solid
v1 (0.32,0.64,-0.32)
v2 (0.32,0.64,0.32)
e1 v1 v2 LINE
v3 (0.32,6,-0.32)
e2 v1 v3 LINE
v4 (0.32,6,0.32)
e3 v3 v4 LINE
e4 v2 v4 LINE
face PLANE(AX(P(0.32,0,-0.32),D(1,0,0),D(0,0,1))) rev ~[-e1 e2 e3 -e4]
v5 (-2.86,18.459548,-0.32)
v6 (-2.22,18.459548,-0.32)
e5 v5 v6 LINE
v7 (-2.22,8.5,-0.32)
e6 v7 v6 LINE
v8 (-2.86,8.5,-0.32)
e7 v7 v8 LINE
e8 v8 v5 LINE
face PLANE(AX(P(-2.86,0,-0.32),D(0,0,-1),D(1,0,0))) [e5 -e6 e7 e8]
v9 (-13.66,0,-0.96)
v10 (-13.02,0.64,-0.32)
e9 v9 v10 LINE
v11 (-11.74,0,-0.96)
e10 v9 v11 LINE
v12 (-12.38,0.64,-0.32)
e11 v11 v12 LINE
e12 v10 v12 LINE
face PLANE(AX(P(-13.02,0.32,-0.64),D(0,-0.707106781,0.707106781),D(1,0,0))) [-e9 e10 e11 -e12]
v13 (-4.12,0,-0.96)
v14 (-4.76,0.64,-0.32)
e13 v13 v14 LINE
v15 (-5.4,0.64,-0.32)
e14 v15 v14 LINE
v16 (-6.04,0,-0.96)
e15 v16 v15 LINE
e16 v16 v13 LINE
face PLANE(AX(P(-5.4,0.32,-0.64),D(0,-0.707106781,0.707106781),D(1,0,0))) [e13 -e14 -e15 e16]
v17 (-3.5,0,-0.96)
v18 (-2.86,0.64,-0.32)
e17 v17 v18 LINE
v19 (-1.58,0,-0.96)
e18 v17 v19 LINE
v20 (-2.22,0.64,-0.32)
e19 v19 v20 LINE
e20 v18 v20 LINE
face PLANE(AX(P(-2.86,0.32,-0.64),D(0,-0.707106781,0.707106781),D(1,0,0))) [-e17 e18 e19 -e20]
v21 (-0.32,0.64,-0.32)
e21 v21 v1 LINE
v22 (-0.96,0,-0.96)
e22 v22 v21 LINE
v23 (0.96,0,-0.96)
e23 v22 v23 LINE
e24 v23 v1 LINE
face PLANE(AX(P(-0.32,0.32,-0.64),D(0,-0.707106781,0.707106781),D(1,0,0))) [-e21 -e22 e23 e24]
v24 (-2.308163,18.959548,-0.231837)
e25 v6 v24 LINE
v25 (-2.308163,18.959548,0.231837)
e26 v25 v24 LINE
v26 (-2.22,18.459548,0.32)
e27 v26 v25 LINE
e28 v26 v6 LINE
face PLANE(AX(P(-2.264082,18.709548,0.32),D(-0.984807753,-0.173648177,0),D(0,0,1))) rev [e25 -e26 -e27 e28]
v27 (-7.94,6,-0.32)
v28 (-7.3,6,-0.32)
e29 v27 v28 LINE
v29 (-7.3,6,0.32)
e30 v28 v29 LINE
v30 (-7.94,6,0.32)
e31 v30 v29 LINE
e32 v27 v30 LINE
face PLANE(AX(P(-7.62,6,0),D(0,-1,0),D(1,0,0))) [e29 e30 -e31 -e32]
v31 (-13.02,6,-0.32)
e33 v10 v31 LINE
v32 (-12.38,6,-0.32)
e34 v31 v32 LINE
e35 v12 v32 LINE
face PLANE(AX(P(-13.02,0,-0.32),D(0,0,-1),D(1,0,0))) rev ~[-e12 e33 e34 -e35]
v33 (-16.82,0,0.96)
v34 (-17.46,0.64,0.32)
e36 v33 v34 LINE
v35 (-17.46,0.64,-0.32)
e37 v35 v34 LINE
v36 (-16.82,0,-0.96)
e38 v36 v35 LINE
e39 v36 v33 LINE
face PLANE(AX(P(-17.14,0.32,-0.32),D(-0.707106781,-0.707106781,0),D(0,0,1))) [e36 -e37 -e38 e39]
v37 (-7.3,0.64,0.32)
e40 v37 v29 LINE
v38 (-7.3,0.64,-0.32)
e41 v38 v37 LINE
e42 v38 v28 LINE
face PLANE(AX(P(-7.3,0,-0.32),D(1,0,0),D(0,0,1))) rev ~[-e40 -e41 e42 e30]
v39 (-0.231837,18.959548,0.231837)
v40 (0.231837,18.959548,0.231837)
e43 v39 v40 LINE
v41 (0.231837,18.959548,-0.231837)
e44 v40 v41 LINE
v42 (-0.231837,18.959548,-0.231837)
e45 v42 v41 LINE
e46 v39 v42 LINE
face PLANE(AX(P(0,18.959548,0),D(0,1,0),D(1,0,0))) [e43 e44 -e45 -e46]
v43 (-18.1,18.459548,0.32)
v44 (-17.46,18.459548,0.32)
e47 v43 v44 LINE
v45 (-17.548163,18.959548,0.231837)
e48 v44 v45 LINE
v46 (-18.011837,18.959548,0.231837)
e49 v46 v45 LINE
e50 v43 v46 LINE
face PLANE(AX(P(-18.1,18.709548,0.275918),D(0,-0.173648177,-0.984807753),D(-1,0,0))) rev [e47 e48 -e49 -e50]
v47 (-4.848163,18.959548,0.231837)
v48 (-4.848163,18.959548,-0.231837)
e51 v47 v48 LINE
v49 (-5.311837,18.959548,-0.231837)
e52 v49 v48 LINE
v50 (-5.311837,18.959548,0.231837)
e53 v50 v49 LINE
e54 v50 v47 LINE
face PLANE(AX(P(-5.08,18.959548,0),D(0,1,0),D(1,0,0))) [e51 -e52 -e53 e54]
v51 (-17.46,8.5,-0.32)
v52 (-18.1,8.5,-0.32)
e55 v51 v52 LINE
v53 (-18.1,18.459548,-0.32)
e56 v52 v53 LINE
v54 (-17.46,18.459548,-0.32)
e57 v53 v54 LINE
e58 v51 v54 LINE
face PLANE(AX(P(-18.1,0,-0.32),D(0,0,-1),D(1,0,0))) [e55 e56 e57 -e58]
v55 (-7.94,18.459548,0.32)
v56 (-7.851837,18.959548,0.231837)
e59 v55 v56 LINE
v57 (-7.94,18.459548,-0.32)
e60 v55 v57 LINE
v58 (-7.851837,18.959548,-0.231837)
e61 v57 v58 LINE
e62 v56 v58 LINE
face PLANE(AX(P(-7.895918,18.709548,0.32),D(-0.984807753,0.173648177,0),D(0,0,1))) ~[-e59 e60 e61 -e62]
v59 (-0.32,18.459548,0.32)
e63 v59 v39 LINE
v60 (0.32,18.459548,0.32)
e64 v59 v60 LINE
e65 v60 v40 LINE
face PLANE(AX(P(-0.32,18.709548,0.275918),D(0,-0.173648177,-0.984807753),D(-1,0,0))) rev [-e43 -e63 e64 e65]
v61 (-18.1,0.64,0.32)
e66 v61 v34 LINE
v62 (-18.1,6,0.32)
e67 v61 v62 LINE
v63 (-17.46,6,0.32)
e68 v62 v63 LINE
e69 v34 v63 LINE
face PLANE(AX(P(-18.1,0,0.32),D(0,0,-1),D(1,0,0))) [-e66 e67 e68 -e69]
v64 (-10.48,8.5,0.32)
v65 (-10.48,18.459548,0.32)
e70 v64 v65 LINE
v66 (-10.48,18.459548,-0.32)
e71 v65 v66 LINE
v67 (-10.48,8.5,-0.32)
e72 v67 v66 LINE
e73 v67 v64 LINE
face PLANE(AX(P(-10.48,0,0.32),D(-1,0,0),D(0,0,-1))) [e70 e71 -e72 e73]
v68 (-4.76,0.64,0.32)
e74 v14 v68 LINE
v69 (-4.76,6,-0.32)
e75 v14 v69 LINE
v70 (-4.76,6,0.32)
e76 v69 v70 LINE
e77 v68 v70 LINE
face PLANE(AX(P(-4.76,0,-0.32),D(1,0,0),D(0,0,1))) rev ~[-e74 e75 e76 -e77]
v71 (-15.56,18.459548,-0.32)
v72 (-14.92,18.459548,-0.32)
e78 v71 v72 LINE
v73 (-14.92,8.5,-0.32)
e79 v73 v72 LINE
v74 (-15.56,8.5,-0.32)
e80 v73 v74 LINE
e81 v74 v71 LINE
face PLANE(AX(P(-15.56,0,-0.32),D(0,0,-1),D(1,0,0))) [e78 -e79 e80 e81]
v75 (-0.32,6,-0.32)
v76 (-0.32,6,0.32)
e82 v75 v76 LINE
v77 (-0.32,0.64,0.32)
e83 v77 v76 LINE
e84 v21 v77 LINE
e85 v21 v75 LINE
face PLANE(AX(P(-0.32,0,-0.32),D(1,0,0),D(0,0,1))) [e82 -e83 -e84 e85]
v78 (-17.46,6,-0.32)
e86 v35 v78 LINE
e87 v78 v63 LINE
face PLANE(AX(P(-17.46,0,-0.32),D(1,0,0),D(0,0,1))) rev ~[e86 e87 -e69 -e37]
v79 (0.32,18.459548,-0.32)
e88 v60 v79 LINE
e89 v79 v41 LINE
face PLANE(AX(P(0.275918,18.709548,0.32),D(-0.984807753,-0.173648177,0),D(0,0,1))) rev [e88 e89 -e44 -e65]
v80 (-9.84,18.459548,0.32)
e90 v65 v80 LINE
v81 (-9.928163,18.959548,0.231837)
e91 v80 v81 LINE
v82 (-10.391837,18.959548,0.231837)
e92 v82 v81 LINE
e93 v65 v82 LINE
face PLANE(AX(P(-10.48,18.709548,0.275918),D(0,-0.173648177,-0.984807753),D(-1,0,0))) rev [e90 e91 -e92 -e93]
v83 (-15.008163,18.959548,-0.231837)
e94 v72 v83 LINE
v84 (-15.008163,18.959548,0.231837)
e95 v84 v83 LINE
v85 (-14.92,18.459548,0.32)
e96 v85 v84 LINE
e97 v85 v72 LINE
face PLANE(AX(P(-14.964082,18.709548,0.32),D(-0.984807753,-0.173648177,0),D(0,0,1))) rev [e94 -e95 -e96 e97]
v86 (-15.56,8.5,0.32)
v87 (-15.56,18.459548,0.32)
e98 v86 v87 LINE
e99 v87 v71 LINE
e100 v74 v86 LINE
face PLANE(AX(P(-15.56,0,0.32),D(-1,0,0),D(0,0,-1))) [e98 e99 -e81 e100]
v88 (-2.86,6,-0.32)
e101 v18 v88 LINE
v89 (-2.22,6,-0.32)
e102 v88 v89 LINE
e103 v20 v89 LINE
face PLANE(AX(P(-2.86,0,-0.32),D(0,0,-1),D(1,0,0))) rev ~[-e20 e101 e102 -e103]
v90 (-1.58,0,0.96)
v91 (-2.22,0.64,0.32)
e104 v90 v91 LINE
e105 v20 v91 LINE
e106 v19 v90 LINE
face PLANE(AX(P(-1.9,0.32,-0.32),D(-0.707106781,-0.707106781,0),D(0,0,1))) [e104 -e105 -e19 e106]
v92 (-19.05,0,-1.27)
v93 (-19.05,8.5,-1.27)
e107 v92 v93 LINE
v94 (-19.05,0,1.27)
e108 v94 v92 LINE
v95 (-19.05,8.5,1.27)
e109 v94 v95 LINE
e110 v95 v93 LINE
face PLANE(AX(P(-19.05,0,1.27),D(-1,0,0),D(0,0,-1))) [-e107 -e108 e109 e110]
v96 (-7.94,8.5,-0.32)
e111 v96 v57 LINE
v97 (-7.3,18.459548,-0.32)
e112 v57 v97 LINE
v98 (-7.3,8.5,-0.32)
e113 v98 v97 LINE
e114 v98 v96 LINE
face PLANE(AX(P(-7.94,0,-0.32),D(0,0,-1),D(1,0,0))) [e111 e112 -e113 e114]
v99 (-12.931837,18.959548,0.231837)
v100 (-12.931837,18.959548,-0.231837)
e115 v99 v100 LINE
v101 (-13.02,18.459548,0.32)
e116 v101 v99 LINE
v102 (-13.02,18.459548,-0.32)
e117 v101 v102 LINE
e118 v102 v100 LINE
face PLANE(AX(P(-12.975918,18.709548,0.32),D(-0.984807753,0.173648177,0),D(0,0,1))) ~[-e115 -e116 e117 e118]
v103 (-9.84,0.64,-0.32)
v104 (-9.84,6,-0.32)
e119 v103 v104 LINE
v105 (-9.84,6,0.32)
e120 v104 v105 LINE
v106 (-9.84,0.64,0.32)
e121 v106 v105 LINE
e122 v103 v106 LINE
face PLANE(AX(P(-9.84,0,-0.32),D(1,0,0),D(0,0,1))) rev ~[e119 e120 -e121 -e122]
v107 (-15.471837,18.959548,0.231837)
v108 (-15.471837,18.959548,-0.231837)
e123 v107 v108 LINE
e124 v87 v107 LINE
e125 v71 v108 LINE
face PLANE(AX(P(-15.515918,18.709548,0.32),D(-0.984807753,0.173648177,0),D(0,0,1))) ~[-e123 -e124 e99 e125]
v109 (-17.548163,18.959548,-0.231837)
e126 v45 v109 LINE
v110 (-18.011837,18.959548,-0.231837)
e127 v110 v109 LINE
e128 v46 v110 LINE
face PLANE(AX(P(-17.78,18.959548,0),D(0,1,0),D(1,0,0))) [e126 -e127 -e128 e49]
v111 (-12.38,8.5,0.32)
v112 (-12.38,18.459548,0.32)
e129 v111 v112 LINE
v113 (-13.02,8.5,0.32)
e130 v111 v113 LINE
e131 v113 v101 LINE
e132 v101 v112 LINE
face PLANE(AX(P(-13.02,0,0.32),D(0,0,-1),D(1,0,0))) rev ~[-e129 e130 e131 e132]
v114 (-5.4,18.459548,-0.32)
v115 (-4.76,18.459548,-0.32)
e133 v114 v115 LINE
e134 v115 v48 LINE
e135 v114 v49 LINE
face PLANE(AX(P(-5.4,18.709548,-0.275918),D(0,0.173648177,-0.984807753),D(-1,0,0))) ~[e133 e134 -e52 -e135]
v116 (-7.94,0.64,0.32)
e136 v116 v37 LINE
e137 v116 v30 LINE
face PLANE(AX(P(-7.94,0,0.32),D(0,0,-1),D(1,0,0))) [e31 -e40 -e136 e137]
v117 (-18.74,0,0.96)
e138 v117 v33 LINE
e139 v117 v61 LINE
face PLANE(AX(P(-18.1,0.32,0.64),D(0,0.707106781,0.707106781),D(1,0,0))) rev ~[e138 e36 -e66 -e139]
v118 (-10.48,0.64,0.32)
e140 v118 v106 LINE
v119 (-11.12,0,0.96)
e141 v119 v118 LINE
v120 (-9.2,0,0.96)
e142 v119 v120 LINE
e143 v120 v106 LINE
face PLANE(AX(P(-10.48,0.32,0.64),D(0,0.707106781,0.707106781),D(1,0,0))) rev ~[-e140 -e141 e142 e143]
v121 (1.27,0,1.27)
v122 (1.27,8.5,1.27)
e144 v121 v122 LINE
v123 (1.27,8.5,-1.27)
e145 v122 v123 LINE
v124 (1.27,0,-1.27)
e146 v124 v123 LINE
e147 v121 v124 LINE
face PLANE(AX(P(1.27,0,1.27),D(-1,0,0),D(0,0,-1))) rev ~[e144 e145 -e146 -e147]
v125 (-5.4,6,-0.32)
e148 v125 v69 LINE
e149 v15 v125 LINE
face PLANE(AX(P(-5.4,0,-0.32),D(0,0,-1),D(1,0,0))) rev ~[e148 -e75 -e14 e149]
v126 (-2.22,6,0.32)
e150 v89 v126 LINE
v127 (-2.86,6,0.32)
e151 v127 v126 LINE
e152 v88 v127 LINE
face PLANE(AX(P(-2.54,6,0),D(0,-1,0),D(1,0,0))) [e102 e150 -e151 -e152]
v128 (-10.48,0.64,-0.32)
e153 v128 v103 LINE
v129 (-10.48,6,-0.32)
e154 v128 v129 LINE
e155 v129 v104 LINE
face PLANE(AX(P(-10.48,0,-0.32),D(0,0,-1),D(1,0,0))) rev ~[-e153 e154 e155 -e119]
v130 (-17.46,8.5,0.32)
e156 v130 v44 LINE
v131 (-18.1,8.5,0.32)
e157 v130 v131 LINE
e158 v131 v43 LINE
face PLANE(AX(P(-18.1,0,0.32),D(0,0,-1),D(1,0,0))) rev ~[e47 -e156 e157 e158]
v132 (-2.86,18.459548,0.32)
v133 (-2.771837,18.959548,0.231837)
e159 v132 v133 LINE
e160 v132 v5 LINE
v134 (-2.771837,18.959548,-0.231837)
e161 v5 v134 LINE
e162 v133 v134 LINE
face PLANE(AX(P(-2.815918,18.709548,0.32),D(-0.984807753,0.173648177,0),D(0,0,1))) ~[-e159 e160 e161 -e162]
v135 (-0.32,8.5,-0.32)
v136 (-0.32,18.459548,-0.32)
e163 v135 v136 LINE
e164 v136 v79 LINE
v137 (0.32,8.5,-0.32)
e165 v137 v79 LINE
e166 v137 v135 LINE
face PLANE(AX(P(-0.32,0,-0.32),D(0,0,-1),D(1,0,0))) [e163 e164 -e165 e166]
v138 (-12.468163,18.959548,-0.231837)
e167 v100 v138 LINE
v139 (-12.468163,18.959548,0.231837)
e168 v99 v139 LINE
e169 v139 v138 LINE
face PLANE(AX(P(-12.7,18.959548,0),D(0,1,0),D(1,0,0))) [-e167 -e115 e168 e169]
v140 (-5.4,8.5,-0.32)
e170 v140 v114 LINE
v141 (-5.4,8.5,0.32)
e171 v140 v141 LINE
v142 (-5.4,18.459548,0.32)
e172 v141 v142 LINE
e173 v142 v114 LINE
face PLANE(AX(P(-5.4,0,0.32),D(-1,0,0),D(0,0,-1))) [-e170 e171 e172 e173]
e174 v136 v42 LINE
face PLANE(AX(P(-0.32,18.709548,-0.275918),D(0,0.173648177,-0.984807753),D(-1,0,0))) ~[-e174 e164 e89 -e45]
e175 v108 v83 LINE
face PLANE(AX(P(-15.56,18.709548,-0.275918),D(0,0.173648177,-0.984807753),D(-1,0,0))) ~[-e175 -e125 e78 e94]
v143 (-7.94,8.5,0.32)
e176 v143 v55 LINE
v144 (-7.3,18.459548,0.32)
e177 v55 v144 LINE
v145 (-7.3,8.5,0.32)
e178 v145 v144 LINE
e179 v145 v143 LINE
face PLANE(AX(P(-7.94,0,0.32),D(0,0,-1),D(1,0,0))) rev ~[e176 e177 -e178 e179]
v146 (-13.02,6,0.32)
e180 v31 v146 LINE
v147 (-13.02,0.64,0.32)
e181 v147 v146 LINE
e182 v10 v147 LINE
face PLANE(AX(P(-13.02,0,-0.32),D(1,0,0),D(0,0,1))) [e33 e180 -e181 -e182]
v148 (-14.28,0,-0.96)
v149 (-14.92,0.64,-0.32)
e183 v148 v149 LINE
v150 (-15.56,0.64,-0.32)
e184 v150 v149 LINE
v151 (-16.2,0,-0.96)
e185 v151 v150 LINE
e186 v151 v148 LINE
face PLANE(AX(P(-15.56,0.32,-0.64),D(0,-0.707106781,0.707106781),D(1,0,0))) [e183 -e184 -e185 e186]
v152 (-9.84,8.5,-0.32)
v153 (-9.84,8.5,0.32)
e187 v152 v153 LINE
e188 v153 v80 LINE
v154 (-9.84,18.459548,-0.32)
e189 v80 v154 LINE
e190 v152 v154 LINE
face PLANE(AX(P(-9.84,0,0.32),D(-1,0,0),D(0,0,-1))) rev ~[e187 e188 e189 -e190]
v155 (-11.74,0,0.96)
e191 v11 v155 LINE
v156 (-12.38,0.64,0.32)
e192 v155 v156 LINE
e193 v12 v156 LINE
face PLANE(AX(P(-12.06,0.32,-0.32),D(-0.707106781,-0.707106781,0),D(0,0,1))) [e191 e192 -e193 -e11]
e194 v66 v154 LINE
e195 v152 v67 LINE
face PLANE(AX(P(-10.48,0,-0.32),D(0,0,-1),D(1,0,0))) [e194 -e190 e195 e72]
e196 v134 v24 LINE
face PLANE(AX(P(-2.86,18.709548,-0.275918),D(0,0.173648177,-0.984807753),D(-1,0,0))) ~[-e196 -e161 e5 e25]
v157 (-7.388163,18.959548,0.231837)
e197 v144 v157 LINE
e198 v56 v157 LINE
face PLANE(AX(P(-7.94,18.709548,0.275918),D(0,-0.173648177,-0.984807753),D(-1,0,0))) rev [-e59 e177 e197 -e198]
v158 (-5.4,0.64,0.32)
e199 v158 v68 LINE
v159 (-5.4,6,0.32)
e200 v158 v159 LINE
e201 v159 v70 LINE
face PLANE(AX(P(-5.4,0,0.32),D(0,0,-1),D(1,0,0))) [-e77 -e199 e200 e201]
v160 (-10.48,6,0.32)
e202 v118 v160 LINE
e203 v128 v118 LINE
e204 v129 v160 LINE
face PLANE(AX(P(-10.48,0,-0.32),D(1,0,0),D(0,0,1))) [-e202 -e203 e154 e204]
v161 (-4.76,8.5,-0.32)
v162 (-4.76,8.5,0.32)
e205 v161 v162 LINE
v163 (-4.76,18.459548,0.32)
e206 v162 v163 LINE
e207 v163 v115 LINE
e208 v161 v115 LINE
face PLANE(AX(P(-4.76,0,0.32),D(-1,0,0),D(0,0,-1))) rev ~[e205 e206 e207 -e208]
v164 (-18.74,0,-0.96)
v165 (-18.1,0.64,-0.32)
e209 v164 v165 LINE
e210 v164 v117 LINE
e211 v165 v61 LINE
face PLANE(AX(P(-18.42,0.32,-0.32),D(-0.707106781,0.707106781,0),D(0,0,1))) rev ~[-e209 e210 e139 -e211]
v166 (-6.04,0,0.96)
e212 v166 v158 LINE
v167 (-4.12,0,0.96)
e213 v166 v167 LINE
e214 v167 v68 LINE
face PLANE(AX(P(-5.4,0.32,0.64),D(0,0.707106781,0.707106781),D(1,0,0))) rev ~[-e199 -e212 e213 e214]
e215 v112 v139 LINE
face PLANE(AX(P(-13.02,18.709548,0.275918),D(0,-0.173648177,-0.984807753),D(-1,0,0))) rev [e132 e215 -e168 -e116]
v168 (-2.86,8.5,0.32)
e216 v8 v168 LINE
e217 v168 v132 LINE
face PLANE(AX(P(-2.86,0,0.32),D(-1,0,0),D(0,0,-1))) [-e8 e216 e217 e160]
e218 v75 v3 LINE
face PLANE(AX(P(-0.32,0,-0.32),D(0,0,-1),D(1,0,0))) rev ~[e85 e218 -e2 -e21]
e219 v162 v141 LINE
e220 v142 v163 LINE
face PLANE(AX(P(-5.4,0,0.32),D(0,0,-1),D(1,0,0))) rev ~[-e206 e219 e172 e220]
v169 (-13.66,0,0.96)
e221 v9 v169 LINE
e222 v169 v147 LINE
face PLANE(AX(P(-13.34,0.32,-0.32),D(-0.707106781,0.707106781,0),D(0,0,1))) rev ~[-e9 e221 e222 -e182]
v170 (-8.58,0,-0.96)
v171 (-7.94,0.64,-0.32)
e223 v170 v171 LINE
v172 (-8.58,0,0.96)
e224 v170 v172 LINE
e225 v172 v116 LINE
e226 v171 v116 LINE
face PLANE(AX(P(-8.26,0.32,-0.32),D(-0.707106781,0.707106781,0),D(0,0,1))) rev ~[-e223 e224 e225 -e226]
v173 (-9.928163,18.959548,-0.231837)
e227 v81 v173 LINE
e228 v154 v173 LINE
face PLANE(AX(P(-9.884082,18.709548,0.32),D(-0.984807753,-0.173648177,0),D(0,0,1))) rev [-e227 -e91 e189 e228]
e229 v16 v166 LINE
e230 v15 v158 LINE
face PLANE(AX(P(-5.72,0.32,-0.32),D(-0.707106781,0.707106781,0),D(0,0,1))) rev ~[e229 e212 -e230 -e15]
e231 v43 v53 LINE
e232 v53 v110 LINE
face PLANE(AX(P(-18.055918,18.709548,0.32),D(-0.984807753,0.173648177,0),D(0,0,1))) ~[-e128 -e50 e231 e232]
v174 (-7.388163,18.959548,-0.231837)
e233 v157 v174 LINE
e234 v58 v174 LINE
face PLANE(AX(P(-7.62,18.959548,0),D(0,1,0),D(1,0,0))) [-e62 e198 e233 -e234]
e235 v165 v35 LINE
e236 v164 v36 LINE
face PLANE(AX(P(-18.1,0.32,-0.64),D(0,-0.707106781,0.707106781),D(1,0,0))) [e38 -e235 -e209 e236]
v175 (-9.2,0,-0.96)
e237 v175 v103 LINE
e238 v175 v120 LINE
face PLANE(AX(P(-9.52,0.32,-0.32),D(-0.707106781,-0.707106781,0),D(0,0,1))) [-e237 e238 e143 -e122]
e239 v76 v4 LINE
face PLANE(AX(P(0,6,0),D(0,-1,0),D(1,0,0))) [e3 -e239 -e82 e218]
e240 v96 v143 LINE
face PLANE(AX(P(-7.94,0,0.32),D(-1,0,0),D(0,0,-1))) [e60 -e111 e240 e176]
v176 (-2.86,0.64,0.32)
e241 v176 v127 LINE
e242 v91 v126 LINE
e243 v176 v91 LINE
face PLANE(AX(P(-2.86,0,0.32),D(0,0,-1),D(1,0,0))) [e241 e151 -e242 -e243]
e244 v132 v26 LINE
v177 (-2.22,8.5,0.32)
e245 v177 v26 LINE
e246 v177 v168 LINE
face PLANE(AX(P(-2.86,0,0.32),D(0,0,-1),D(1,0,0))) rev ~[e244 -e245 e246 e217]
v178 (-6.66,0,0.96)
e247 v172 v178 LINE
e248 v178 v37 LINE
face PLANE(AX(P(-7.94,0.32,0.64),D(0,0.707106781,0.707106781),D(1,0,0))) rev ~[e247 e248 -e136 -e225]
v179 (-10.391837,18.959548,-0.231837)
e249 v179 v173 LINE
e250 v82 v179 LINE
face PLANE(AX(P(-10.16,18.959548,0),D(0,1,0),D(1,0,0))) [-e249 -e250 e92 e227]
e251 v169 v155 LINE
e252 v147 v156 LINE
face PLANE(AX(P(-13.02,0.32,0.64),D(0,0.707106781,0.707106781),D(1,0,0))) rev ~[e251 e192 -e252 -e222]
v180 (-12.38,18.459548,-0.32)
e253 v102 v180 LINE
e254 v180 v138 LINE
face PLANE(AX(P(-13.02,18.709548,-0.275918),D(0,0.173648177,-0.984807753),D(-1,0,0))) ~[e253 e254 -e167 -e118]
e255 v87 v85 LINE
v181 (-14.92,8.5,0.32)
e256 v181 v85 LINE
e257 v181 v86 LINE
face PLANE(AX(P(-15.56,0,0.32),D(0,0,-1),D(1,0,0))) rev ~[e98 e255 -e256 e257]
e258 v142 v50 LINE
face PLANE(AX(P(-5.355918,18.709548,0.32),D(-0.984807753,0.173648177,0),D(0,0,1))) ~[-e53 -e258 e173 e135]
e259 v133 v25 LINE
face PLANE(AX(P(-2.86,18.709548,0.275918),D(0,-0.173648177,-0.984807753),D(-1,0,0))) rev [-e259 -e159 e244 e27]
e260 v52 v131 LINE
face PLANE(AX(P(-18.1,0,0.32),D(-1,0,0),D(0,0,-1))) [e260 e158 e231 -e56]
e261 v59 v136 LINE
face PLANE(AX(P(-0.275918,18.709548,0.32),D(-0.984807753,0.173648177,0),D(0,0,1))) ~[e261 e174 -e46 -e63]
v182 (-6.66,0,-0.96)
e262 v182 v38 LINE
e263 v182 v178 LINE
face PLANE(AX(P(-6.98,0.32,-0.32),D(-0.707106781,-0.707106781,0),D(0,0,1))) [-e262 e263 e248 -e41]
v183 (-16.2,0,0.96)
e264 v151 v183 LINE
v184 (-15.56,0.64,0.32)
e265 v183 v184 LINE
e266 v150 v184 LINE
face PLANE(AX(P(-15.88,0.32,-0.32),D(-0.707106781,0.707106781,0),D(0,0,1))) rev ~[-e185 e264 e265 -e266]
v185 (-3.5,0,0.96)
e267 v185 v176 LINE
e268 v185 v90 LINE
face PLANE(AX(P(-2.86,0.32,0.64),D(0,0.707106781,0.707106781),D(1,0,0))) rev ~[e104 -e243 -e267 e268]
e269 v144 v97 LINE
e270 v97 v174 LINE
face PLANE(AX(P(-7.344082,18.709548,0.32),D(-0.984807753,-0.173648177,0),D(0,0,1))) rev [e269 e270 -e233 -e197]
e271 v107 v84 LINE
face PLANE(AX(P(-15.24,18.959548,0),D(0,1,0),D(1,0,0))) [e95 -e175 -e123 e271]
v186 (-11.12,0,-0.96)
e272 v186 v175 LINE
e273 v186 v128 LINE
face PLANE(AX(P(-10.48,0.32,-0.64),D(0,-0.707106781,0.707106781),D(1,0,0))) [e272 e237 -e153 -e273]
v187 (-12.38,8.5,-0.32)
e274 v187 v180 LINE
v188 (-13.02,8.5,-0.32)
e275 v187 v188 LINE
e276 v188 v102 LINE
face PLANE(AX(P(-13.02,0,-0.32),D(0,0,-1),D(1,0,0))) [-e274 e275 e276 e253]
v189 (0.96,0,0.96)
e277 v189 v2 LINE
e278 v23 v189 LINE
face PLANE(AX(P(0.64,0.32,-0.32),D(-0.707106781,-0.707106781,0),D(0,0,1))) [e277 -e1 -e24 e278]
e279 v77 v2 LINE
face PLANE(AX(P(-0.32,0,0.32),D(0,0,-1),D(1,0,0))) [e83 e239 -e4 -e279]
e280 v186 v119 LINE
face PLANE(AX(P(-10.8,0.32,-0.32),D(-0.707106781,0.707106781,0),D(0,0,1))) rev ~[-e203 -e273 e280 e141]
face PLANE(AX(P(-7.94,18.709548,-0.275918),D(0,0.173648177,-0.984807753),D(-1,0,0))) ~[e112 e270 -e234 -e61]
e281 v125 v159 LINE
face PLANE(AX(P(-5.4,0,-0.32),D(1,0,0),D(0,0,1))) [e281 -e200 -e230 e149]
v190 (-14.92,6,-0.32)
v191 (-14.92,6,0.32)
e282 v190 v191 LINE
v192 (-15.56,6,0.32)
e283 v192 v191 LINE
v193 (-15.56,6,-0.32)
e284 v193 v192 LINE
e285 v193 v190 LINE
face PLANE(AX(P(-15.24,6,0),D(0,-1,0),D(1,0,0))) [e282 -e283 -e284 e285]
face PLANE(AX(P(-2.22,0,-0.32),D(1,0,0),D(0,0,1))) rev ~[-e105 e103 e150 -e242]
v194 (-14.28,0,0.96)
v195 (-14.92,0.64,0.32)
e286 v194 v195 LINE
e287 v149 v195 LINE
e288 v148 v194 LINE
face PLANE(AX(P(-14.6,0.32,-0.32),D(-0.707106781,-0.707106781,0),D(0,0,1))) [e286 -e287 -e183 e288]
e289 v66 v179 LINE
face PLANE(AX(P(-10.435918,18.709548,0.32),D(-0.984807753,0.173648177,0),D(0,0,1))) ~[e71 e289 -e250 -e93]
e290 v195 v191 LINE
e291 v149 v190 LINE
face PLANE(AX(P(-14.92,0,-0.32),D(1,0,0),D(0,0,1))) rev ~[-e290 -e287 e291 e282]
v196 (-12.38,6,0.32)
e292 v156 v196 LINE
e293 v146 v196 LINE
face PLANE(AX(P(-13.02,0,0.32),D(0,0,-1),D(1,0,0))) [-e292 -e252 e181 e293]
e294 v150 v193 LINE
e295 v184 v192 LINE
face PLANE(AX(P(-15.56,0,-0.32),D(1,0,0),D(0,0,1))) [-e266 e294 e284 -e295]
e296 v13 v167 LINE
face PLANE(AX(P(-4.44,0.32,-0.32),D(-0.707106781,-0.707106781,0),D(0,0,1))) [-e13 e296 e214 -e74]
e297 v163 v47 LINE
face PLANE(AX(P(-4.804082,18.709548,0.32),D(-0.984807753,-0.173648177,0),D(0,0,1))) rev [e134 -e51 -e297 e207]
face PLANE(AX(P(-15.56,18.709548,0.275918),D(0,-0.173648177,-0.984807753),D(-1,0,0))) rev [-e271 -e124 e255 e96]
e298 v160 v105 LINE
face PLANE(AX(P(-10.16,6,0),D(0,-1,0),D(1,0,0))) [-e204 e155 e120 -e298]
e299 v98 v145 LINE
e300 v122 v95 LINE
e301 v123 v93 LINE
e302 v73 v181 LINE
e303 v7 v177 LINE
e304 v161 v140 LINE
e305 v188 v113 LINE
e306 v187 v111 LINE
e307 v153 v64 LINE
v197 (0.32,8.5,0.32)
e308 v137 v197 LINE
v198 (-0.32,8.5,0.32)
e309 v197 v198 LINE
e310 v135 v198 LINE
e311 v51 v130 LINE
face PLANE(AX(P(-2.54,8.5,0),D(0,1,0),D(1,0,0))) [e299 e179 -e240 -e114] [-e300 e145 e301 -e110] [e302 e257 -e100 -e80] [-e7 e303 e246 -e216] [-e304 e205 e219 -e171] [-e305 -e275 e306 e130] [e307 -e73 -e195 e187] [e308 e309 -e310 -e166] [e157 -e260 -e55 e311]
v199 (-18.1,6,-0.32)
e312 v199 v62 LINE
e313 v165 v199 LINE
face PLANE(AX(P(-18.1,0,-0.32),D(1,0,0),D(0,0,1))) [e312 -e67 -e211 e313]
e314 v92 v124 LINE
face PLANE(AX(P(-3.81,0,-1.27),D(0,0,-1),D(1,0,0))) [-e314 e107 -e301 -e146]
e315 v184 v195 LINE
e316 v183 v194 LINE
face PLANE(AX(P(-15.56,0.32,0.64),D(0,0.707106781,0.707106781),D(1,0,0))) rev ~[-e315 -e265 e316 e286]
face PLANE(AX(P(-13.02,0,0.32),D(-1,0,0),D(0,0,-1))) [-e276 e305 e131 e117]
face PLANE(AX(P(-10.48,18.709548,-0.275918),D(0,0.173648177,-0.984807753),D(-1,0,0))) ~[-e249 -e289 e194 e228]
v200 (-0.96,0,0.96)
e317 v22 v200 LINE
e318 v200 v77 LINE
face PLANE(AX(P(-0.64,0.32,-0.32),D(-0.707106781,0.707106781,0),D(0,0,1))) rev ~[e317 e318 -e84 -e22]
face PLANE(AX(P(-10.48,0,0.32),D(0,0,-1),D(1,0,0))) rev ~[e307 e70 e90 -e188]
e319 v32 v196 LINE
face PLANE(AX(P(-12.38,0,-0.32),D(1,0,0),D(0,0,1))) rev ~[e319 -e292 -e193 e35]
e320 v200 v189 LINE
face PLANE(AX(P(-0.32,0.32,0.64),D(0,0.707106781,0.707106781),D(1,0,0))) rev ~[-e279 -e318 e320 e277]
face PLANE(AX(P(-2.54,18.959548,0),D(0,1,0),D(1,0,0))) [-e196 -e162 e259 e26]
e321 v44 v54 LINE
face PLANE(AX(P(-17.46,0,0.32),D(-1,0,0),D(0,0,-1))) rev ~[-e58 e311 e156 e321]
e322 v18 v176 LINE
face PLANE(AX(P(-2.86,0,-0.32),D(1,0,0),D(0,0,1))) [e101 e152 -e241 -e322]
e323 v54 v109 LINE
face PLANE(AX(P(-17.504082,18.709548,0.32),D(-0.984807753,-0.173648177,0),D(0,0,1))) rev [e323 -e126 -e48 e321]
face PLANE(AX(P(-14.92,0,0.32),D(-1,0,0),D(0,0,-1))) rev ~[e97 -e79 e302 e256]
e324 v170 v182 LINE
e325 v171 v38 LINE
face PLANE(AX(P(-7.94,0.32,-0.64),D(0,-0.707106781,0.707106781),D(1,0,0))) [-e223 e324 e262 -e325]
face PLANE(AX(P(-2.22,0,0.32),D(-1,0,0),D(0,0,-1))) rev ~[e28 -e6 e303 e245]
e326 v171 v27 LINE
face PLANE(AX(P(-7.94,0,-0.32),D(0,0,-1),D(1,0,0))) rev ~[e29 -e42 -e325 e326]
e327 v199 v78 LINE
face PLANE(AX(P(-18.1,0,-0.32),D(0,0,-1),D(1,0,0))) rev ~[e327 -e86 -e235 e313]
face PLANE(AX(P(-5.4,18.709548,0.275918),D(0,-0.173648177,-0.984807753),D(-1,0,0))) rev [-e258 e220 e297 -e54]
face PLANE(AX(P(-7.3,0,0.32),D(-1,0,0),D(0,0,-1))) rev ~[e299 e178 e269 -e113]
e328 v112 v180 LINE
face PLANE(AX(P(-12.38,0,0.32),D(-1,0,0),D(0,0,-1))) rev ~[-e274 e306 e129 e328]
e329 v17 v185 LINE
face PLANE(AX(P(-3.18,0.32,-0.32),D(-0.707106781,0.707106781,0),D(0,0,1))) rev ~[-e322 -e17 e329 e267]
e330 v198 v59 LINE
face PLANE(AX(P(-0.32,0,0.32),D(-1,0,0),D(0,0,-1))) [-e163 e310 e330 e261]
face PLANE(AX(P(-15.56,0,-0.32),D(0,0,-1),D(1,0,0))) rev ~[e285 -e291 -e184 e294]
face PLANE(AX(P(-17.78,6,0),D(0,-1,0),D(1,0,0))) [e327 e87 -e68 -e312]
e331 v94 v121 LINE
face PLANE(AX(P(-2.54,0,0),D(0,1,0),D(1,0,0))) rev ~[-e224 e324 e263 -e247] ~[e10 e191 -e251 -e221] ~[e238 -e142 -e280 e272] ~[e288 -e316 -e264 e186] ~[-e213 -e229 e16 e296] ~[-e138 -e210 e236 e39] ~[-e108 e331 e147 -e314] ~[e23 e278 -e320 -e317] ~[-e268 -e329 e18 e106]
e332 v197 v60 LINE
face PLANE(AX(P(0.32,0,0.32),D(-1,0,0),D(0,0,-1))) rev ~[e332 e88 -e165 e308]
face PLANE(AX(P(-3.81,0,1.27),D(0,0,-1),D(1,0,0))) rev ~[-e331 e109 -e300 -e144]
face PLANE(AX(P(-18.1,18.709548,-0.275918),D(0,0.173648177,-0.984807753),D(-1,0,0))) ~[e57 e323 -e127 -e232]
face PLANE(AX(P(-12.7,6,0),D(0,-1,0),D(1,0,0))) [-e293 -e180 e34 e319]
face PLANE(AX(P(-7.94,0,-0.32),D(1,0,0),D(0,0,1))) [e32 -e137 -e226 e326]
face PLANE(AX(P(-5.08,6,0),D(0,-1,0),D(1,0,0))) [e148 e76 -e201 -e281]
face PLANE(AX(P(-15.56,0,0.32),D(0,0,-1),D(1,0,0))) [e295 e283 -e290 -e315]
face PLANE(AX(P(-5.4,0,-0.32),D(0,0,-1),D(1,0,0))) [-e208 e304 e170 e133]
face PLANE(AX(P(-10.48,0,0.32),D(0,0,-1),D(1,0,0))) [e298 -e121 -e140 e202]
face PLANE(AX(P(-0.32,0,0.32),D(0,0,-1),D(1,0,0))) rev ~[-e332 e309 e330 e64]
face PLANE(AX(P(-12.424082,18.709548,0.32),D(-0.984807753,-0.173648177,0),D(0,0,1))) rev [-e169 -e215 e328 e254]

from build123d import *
from OCP.BRepFilletAPI import BRepFilletAPI_MakeChamfer

# Parameters (mm, degrees)
SKETCH1_W                   = 2.54
SKETCH1_H                   = 2.54
BOSS_EXTRUDE1_DEPTH         = 8.5
SKETCH2_W                   = 0.64
SKETCH2_H                   = 0.64
BOSS_EXTRUDE2_DEPTH         = 18.9595482
CHAMFER1_SIZE               = 0.5
CHAMFER1_SIZE2              = 0.08816349
SKETCH3_W                   = 0.64
SKETCH3_H                   = 0.64
CUT_EXTRUDE1_DEPTH          = 6
CHAMFER2_SIZE               = 0.64
LPATTERN1_COUNT             = 8
LPATTERN1_PITCH             = 2.54
CHAMFER1_OF_LPATTERN1_SIZE  = 0.5
CHAMFER1_OF_LPATTERN1_SIZE2 = 0.08816349
CHAMFER2_OF_LPATTERN1_SIZE  = 0.64


with BuildPart() as part:
    # Sketch1 → Boss-Extrude1 (new body)
    with BuildSketch(Plane(origin=(0, 0, 0), x_dir=(1, 0, 0), z_dir=(0, 1, 0))):
        Rectangle(SKETCH1_W, SKETCH1_H)
    boss_extrude1 = extrude(amount=BOSS_EXTRUDE1_DEPTH)

    # Sketch2 → Boss-Extrude2 (add)
    with BuildSketch(Plane(origin=(0, 0, 0), x_dir=(1, 0, 0), z_dir=(0, 1, 0))):
        Rectangle(SKETCH2_W, SKETCH2_H)
    boss_extrude2 = extrude(amount=BOSS_EXTRUDE2_DEPTH)

    # Chamfer1: one chamfer whose edges measure the first distance from different faces: ONE call of the kernel's chamfer builder (chamfer() names one face for all edges)
    chamfer1_edges_1 = [part.edges().sort_by_distance(p)[0] for p in [
        (-0.32, 18.9595482, 0),
    ]]
    chamfer1_side_1 = [part.faces().sort_by_distance(p)[0] for p in [
        (-0.32, 13.7297741, 0),
    ]]
    chamfer1_edges_2 = [part.edges().sort_by_distance(p)[0] for p in [
        (0, 18.9595482, 0.32),
    ]]
    chamfer1_side_2 = [part.faces().sort_by_distance(p)[0] for p in [
        (0, 13.7297741, 0.32),
    ]]
    chamfer1_edges_3 = [part.edges().sort_by_distance(p)[0] for p in [
        (0.32, 18.9595482, 0),
    ]]
    chamfer1_side_3 = [part.faces().sort_by_distance(p)[0] for p in [
        (0.32, 13.7297741, 0),
    ]]
    chamfer1_edges_4 = [part.edges().sort_by_distance(p)[0] for p in [
        (0, 18.9595482, -0.32),
    ]]
    chamfer1_side_4 = [part.faces().sort_by_distance(p)[0] for p in [
        (0, 13.7297741, -0.32),
    ]]
    chamfer1 = BRepFilletAPI_MakeChamfer(part.part.solid().wrapped)
    for e in chamfer1_edges_1:
        chamfer1.Add(CHAMFER1_SIZE, CHAMFER1_SIZE2, e.wrapped, chamfer1_side_1[0].wrapped)  # the first distance lies on this face
    for e in chamfer1_edges_2:
        chamfer1.Add(CHAMFER1_SIZE, CHAMFER1_SIZE2, e.wrapped, chamfer1_side_2[0].wrapped)  # the first distance lies on this face
    for e in chamfer1_edges_3:
        chamfer1.Add(CHAMFER1_SIZE, CHAMFER1_SIZE2, e.wrapped, chamfer1_side_3[0].wrapped)  # the first distance lies on this face
    for e in chamfer1_edges_4:
        chamfer1.Add(CHAMFER1_SIZE, CHAMFER1_SIZE2, e.wrapped, chamfer1_side_4[0].wrapped)  # the first distance lies on this face
    add(Compound.cast(chamfer1.Shape()), mode=Mode.REPLACE)

    # Sketch3 → Cut-Extrude1 (cut)
    with BuildSketch(Plane.XZ):
        Rectangle(SKETCH3_W, SKETCH3_H)
    cut_extrude1 = extrude(amount=-CUT_EXTRUDE1_DEPTH, mode=Mode.SUBTRACT)

    # Chamfer2
    chamfer2_edges = [part.edges().sort_by_distance(p)[0] for p in [
        (-0.32, 0, 0),
        (0, 0, -0.32),
        (0.32, 0, 0),
        (0, 0, 0.32),
    ]]
    chamfer(chamfer2_edges, length=CHAMFER2_SIZE)

    # LPattern1: Boss-Extrude1, Boss-Extrude2, Cut-Extrude1 ×8
    with Locations(*[(-i * LPATTERN1_PITCH, 0, 0) for i in range(1, LPATTERN1_COUNT)]):
        add(boss_extrude1)
        add(boss_extrude2)
        add(cut_extrude1, mode=Mode.SUBTRACT)

    # Chamfer1 of LPattern1: one chamfer whose edges measure the first distance from different faces: ONE call of the kernel's chamfer builder (chamfer() names one face for all edges)
    chamfer1_of_lpattern1_edges_1 = [part.edges().sort_by_distance(p)[0] for p in [
        (-2.86, 18.9595482, 0),
    ]]
    chamfer1_of_lpattern1_side_1 = [part.faces().sort_by_distance(p)[0] for p in [
        (-2.86, 13.7297741, 0),
    ]]
    chamfer1_of_lpattern1_edges_2 = [part.edges().sort_by_distance(p)[0] for p in [
        (-2.54, 18.9595482, 0.32),
    ]]
    chamfer1_of_lpattern1_side_2 = [part.faces().sort_by_distance(p)[0] for p in [
        (-2.54, 13.7297741, 0.32),
    ]]
    chamfer1_of_lpattern1_edges_3 = [part.edges().sort_by_distance(p)[0] for p in [
        (-2.22, 18.9595482, 0),
    ]]
    chamfer1_of_lpattern1_side_3 = [part.faces().sort_by_distance(p)[0] for p in [
        (-2.22, 13.7297741, 0),
    ]]
    chamfer1_of_lpattern1_edges_4 = [part.edges().sort_by_distance(p)[0] for p in [
        (-2.54, 18.9595482, -0.32),
    ]]
    chamfer1_of_lpattern1_side_4 = [part.faces().sort_by_distance(p)[0] for p in [
        (-2.54, 13.7297741, -0.32),
    ]]
    chamfer1_of_lpattern1_edges_5 = [part.edges().sort_by_distance(p)[0] for p in [
        (-5.4, 18.9595482, 0),
    ]]
    chamfer1_of_lpattern1_side_5 = [part.faces().sort_by_distance(p)[0] for p in [
        (-5.4, 13.7297741, 0),
    ]]
    chamfer1_of_lpattern1_edges_6 = [part.edges().sort_by_distance(p)[0] for p in [
        (-5.08, 18.9595482, 0.32),
    ]]
    chamfer1_of_lpattern1_side_6 = [part.faces().sort_by_distance(p)[0] for p in [
        (-5.08, 13.7297741, 0.32),
    ]]
    chamfer1_of_lpattern1_edges_7 = [part.edges().sort_by_distance(p)[0] for p in [
        (-4.76, 18.9595482, 0),
    ]]
    chamfer1_of_lpattern1_side_7 = [part.faces().sort_by_distance(p)[0] for p in [
        (-4.76, 13.7297741, 0),
    ]]
    chamfer1_of_lpattern1_edges_8 = [part.edges().sort_by_distance(p)[0] for p in [
        (-5.08, 18.9595482, -0.32),
    ]]
    chamfer1_of_lpattern1_side_8 = [part.faces().sort_by_distance(p)[0] for p in [
        (-5.08, 13.7297741, -0.32),
    ]]
    chamfer1_of_lpattern1_edges_9 = [part.edges().sort_by_distance(p)[0] for p in [
        (-7.94, 18.9595482, 0),
    ]]
    chamfer1_of_lpattern1_side_9 = [part.faces().sort_by_distance(p)[0] for p in [
        (-7.94, 13.7297741, 0),
    ]]
    chamfer1_of_lpattern1_edges_10 = [part.edges().sort_by_distance(p)[0] for p in [
        (-7.62, 18.9595482, 0.32),
    ]]
    chamfer1_of_lpattern1_side_10 = [part.faces().sort_by_distance(p)[0] for p in [
        (-7.62, 13.7297741, 0.32),
    ]]
    chamfer1_of_lpattern1_edges_11 = [part.edges().sort_by_distance(p)[0] for p in [
        (-7.3, 18.9595482, 0),
    ]]
    chamfer1_of_lpattern1_side_11 = [part.faces().sort_by_distance(p)[0] for p in [
        (-7.3, 13.7297741, 0),
    ]]
    chamfer1_of_lpattern1_edges_12 = [part.edges().sort_by_distance(p)[0] for p in [
        (-7.62, 18.9595482, -0.32),
    ]]
    chamfer1_of_lpattern1_side_12 = [part.faces().sort_by_distance(p)[0] for p in [
        (-7.62, 13.7297741, -0.32),
    ]]
    chamfer1_of_lpattern1_edges_13 = [part.edges().sort_by_distance(p)[0] for p in [
        (-10.48, 18.9595482, 0),
    ]]
    chamfer1_of_lpattern1_side_13 = [part.faces().sort_by_distance(p)[0] for p in [
        (-10.48, 13.7297741, 0),
    ]]
    chamfer1_of_lpattern1_edges_14 = [part.edges().sort_by_distance(p)[0] for p in [
        (-10.16, 18.9595482, 0.32),
    ]]
    chamfer1_of_lpattern1_side_14 = [part.faces().sort_by_distance(p)[0] for p in [
        (-10.16, 13.7297741, 0.32),
    ]]
    chamfer1_of_lpattern1_edges_15 = [part.edges().sort_by_distance(p)[0] for p in [
        (-9.84, 18.9595482, 0),
    ]]
    chamfer1_of_lpattern1_side_15 = [part.faces().sort_by_distance(p)[0] for p in [
        (-9.84, 13.7297741, 0),
    ]]
    chamfer1_of_lpattern1_edges_16 = [part.edges().sort_by_distance(p)[0] for p in [
        (-10.16, 18.9595482, -0.32),
    ]]
    chamfer1_of_lpattern1_side_16 = [part.faces().sort_by_distance(p)[0] for p in [
        (-10.16, 13.7297741, -0.32),
    ]]
    chamfer1_of_lpattern1_edges_17 = [part.edges().sort_by_distance(p)[0] for p in [
        (-13.02, 18.9595482, 0),
    ]]
    chamfer1_of_lpattern1_side_17 = [part.faces().sort_by_distance(p)[0] for p in [
        (-13.02, 13.7297741, 0),
    ]]
    chamfer1_of_lpattern1_edges_18 = [part.edges().sort_by_distance(p)[0] for p in [
        (-12.7, 18.9595482, 0.32),
    ]]
    chamfer1_of_lpattern1_side_18 = [part.faces().sort_by_distance(p)[0] for p in [
        (-12.7, 13.7297741, 0.32),
    ]]
    chamfer1_of_lpattern1_edges_19 = [part.edges().sort_by_distance(p)[0] for p in [
        (-12.38, 18.9595482, 0),
    ]]
    chamfer1_of_lpattern1_side_19 = [part.faces().sort_by_distance(p)[0] for p in [
        (-12.38, 13.7297741, 0),
    ]]
    chamfer1_of_lpattern1_edges_20 = [part.edges().sort_by_distance(p)[0] for p in [
        (-12.7, 18.9595482, -0.32),
    ]]
    chamfer1_of_lpattern1_side_20 = [part.faces().sort_by_distance(p)[0] for p in [
        (-12.7, 13.7297741, -0.32),
    ]]
    chamfer1_of_lpattern1_edges_21 = [part.edges().sort_by_distance(p)[0] for p in [
        (-15.56, 18.9595482, 0),
    ]]
    chamfer1_of_lpattern1_side_21 = [part.faces().sort_by_distance(p)[0] for p in [
        (-15.56, 13.7297741, 0),
    ]]
    chamfer1_of_lpattern1_edges_22 = [part.edges().sort_by_distance(p)[0] for p in [
        (-15.24, 18.9595482, 0.32),
    ]]
    chamfer1_of_lpattern1_side_22 = [part.faces().sort_by_distance(p)[0] for p in [
        (-15.24, 13.7297741, 0.32),
    ]]
    chamfer1_of_lpattern1_edges_23 = [part.edges().sort_by_distance(p)[0] for p in [
        (-14.92, 18.9595482, 0),
    ]]
    chamfer1_of_lpattern1_side_23 = [part.faces().sort_by_distance(p)[0] for p in [
        (-14.92, 13.7297741, 0),
    ]]
    chamfer1_of_lpattern1_edges_24 = [part.edges().sort_by_distance(p)[0] for p in [
        (-15.24, 18.9595482, -0.32),
    ]]
    chamfer1_of_lpattern1_side_24 = [part.faces().sort_by_distance(p)[0] for p in [
        (-15.24, 13.7297741, -0.32),
    ]]
    chamfer1_of_lpattern1_edges_25 = [part.edges().sort_by_distance(p)[0] for p in [
        (-18.1, 18.9595482, 0),
    ]]
    chamfer1_of_lpattern1_side_25 = [part.faces().sort_by_distance(p)[0] for p in [
        (-18.1, 13.7297741, 0),
    ]]
    chamfer1_of_lpattern1_edges_26 = [part.edges().sort_by_distance(p)[0] for p in [
        (-17.78, 18.9595482, 0.32),
    ]]
    chamfer1_of_lpattern1_side_26 = [part.faces().sort_by_distance(p)[0] for p in [
        (-17.78, 13.7297741, 0.32),
    ]]
    chamfer1_of_lpattern1_edges_27 = [part.edges().sort_by_distance(p)[0] for p in [
        (-17.46, 18.9595482, 0),
    ]]
    chamfer1_of_lpattern1_side_27 = [part.faces().sort_by_distance(p)[0] for p in [
        (-17.46, 13.7297741, 0),
    ]]
    chamfer1_of_lpattern1_edges_28 = [part.edges().sort_by_distance(p)[0] for p in [
        (-17.78, 18.9595482, -0.32),
    ]]
    chamfer1_of_lpattern1_side_28 = [part.faces().sort_by_distance(p)[0] for p in [
        (-17.78, 13.7297741, -0.32),
    ]]
    chamfer1_of_lpattern1 = BRepFilletAPI_MakeChamfer(part.part.solid().wrapped)
    for e in chamfer1_of_lpattern1_edges_1:
        chamfer1_of_lpattern1.Add(CHAMFER1_OF_LPATTERN1_SIZE, CHAMFER1_OF_LPATTERN1_SIZE2, e.wrapped, chamfer1_of_lpattern1_side_1[0].wrapped)  # the first distance lies on this face
    for e in chamfer1_of_lpattern1_edges_2:
        chamfer1_of_lpattern1.Add(CHAMFER1_OF_LPATTERN1_SIZE, CHAMFER1_OF_LPATTERN1_SIZE2, e.wrapped, chamfer1_of_lpattern1_side_2[0].wrapped)  # the first distance lies on this face
    for e in chamfer1_of_lpattern1_edges_3:
        chamfer1_of_lpattern1.Add(CHAMFER1_OF_LPATTERN1_SIZE, CHAMFER1_OF_LPATTERN1_SIZE2, e.wrapped, chamfer1_of_lpattern1_side_3[0].wrapped)  # the first distance lies on this face
    for e in chamfer1_of_lpattern1_edges_4:
        chamfer1_of_lpattern1.Add(CHAMFER1_OF_LPATTERN1_SIZE, CHAMFER1_OF_LPATTERN1_SIZE2, e.wrapped, chamfer1_of_lpattern1_side_4[0].wrapped)  # the first distance lies on this face
    for e in chamfer1_of_lpattern1_edges_5:
        chamfer1_of_lpattern1.Add(CHAMFER1_OF_LPATTERN1_SIZE, CHAMFER1_OF_LPATTERN1_SIZE2, e.wrapped, chamfer1_of_lpattern1_side_5[0].wrapped)  # the first distance lies on this face
    for e in chamfer1_of_lpattern1_edges_6:
        chamfer1_of_lpattern1.Add(CHAMFER1_OF_LPATTERN1_SIZE, CHAMFER1_OF_LPATTERN1_SIZE2, e.wrapped, chamfer1_of_lpattern1_side_6[0].wrapped)  # the first distance lies on this face
    for e in chamfer1_of_lpattern1_edges_7:
        chamfer1_of_lpattern1.Add(CHAMFER1_OF_LPATTERN1_SIZE, CHAMFER1_OF_LPATTERN1_SIZE2, e.wrapped, chamfer1_of_lpattern1_side_7[0].wrapped)  # the first distance lies on this face
    for e in chamfer1_of_lpattern1_edges_8:
        chamfer1_of_lpattern1.Add(CHAMFER1_OF_LPATTERN1_SIZE, CHAMFER1_OF_LPATTERN1_SIZE2, e.wrapped, chamfer1_of_lpattern1_side_8[0].wrapped)  # the first distance lies on this face
    for e in chamfer1_of_lpattern1_edges_9:
        chamfer1_of_lpattern1.Add(CHAMFER1_OF_LPATTERN1_SIZE, CHAMFER1_OF_LPATTERN1_SIZE2, e.wrapped, chamfer1_of_lpattern1_side_9[0].wrapped)  # the first distance lies on this face
    for e in chamfer1_of_lpattern1_edges_10:
        chamfer1_of_lpattern1.Add(CHAMFER1_OF_LPATTERN1_SIZE, CHAMFER1_OF_LPATTERN1_SIZE2, e.wrapped, chamfer1_of_lpattern1_side_10[0].wrapped)  # the first distance lies on this face
    for e in chamfer1_of_lpattern1_edges_11:
        chamfer1_of_lpattern1.Add(CHAMFER1_OF_LPATTERN1_SIZE, CHAMFER1_OF_LPATTERN1_SIZE2, e.wrapped, chamfer1_of_lpattern1_side_11[0].wrapped)  # the first distance lies on this face
    for e in chamfer1_of_lpattern1_edges_12:
        chamfer1_of_lpattern1.Add(CHAMFER1_OF_LPATTERN1_SIZE, CHAMFER1_OF_LPATTERN1_SIZE2, e.wrapped, chamfer1_of_lpattern1_side_12[0].wrapped)  # the first distance lies on this face
    for e in chamfer1_of_lpattern1_edges_13:
        chamfer1_of_lpattern1.Add(CHAMFER1_OF_LPATTERN1_SIZE, CHAMFER1_OF_LPATTERN1_SIZE2, e.wrapped, chamfer1_of_lpattern1_side_13[0].wrapped)  # the first distance lies on this face
    for e in chamfer1_of_lpattern1_edges_14:
        chamfer1_of_lpattern1.Add(CHAMFER1_OF_LPATTERN1_SIZE, CHAMFER1_OF_LPATTERN1_SIZE2, e.wrapped, chamfer1_of_lpattern1_side_14[0].wrapped)  # the first distance lies on this face
    for e in chamfer1_of_lpattern1_edges_15:
        chamfer1_of_lpattern1.Add(CHAMFER1_OF_LPATTERN1_SIZE, CHAMFER1_OF_LPATTERN1_SIZE2, e.wrapped, chamfer1_of_lpattern1_side_15[0].wrapped)  # the first distance lies on this face
    for e in chamfer1_of_lpattern1_edges_16:
        chamfer1_of_lpattern1.Add(CHAMFER1_OF_LPATTERN1_SIZE, CHAMFER1_OF_LPATTERN1_SIZE2, e.wrapped, chamfer1_of_lpattern1_side_16[0].wrapped)  # the first distance lies on this face
    for e in chamfer1_of_lpattern1_edges_17:
        chamfer1_of_lpattern1.Add(CHAMFER1_OF_LPATTERN1_SIZE, CHAMFER1_OF_LPATTERN1_SIZE2, e.wrapped, chamfer1_of_lpattern1_side_17[0].wrapped)  # the first distance lies on this face
    for e in chamfer1_of_lpattern1_edges_18:
        chamfer1_of_lpattern1.Add(CHAMFER1_OF_LPATTERN1_SIZE, CHAMFER1_OF_LPATTERN1_SIZE2, e.wrapped, chamfer1_of_lpattern1_side_18[0].wrapped)  # the first distance lies on this face
    for e in chamfer1_of_lpattern1_edges_19:
        chamfer1_of_lpattern1.Add(CHAMFER1_OF_LPATTERN1_SIZE, CHAMFER1_OF_LPATTERN1_SIZE2, e.wrapped, chamfer1_of_lpattern1_side_19[0].wrapped)  # the first distance lies on this face
    for e in chamfer1_of_lpattern1_edges_20:
        chamfer1_of_lpattern1.Add(CHAMFER1_OF_LPATTERN1_SIZE, CHAMFER1_OF_LPATTERN1_SIZE2, e.wrapped, chamfer1_of_lpattern1_side_20[0].wrapped)  # the first distance lies on this face
    for e in chamfer1_of_lpattern1_edges_21:
        chamfer1_of_lpattern1.Add(CHAMFER1_OF_LPATTERN1_SIZE, CHAMFER1_OF_LPATTERN1_SIZE2, e.wrapped, chamfer1_of_lpattern1_side_21[0].wrapped)  # the first distance lies on this face
    for e in chamfer1_of_lpattern1_edges_22:
        chamfer1_of_lpattern1.Add(CHAMFER1_OF_LPATTERN1_SIZE, CHAMFER1_OF_LPATTERN1_SIZE2, e.wrapped, chamfer1_of_lpattern1_side_22[0].wrapped)  # the first distance lies on this face
    for e in chamfer1_of_lpattern1_edges_23:
        chamfer1_of_lpattern1.Add(CHAMFER1_OF_LPATTERN1_SIZE, CHAMFER1_OF_LPATTERN1_SIZE2, e.wrapped, chamfer1_of_lpattern1_side_23[0].wrapped)  # the first distance lies on this face
    for e in chamfer1_of_lpattern1_edges_24:
        chamfer1_of_lpattern1.Add(CHAMFER1_OF_LPATTERN1_SIZE, CHAMFER1_OF_LPATTERN1_SIZE2, e.wrapped, chamfer1_of_lpattern1_side_24[0].wrapped)  # the first distance lies on this face
    for e in chamfer1_of_lpattern1_edges_25:
        chamfer1_of_lpattern1.Add(CHAMFER1_OF_LPATTERN1_SIZE, CHAMFER1_OF_LPATTERN1_SIZE2, e.wrapped, chamfer1_of_lpattern1_side_25[0].wrapped)  # the first distance lies on this face
    for e in chamfer1_of_lpattern1_edges_26:
        chamfer1_of_lpattern1.Add(CHAMFER1_OF_LPATTERN1_SIZE, CHAMFER1_OF_LPATTERN1_SIZE2, e.wrapped, chamfer1_of_lpattern1_side_26[0].wrapped)  # the first distance lies on this face
    for e in chamfer1_of_lpattern1_edges_27:
        chamfer1_of_lpattern1.Add(CHAMFER1_OF_LPATTERN1_SIZE, CHAMFER1_OF_LPATTERN1_SIZE2, e.wrapped, chamfer1_of_lpattern1_side_27[0].wrapped)  # the first distance lies on this face
    for e in chamfer1_of_lpattern1_edges_28:
        chamfer1_of_lpattern1.Add(CHAMFER1_OF_LPATTERN1_SIZE, CHAMFER1_OF_LPATTERN1_SIZE2, e.wrapped, chamfer1_of_lpattern1_side_28[0].wrapped)  # the first distance lies on this face
    add(Compound.cast(chamfer1_of_lpattern1.Shape()), mode=Mode.REPLACE)

    # Chamfer2 of LPattern1
    chamfer2_of_lpattern1_edges = [part.edges().sort_by_distance(p)[0] for p in [
        (-2.86, 0, 0),
        (-2.54, 0, -0.32),
        (-2.22, 0, 0),
        (-2.54, 0, 0.32),
        (-5.4, 0, 0),
        (-5.08, 0, -0.32),
        (-4.76, 0, 0),
        (-5.08, 0, 0.32),
        (-7.94, 0, 0),
        (-7.62, 0, -0.32),
        (-7.3, 0, 0),
        (-7.62, 0, 0.32),
        (-10.48, 0, 0),
        (-10.16, 0, -0.32),
        (-9.84, 0, 0),
        (-10.16, 0, 0.32),
        (-13.02, 0, 0),
        (-12.7, 0, -0.32),
        (-12.38, 0, 0),
        (-12.7, 0, 0.32),
        (-15.56, 0, 0),
        (-15.24, 0, -0.32),
        (-14.92, 0, 0),
        (-15.24, 0, 0.32),
        (-18.1, 0, 0),
        (-17.78, 0, -0.32),
        (-17.46, 0, 0),
        (-17.78, 0, 0.32),
    ]]
    chamfer(chamfer2_of_lpattern1_edges, length=CHAMFER2_OF_LPATTERN1_SIZE)


solid = part.part
